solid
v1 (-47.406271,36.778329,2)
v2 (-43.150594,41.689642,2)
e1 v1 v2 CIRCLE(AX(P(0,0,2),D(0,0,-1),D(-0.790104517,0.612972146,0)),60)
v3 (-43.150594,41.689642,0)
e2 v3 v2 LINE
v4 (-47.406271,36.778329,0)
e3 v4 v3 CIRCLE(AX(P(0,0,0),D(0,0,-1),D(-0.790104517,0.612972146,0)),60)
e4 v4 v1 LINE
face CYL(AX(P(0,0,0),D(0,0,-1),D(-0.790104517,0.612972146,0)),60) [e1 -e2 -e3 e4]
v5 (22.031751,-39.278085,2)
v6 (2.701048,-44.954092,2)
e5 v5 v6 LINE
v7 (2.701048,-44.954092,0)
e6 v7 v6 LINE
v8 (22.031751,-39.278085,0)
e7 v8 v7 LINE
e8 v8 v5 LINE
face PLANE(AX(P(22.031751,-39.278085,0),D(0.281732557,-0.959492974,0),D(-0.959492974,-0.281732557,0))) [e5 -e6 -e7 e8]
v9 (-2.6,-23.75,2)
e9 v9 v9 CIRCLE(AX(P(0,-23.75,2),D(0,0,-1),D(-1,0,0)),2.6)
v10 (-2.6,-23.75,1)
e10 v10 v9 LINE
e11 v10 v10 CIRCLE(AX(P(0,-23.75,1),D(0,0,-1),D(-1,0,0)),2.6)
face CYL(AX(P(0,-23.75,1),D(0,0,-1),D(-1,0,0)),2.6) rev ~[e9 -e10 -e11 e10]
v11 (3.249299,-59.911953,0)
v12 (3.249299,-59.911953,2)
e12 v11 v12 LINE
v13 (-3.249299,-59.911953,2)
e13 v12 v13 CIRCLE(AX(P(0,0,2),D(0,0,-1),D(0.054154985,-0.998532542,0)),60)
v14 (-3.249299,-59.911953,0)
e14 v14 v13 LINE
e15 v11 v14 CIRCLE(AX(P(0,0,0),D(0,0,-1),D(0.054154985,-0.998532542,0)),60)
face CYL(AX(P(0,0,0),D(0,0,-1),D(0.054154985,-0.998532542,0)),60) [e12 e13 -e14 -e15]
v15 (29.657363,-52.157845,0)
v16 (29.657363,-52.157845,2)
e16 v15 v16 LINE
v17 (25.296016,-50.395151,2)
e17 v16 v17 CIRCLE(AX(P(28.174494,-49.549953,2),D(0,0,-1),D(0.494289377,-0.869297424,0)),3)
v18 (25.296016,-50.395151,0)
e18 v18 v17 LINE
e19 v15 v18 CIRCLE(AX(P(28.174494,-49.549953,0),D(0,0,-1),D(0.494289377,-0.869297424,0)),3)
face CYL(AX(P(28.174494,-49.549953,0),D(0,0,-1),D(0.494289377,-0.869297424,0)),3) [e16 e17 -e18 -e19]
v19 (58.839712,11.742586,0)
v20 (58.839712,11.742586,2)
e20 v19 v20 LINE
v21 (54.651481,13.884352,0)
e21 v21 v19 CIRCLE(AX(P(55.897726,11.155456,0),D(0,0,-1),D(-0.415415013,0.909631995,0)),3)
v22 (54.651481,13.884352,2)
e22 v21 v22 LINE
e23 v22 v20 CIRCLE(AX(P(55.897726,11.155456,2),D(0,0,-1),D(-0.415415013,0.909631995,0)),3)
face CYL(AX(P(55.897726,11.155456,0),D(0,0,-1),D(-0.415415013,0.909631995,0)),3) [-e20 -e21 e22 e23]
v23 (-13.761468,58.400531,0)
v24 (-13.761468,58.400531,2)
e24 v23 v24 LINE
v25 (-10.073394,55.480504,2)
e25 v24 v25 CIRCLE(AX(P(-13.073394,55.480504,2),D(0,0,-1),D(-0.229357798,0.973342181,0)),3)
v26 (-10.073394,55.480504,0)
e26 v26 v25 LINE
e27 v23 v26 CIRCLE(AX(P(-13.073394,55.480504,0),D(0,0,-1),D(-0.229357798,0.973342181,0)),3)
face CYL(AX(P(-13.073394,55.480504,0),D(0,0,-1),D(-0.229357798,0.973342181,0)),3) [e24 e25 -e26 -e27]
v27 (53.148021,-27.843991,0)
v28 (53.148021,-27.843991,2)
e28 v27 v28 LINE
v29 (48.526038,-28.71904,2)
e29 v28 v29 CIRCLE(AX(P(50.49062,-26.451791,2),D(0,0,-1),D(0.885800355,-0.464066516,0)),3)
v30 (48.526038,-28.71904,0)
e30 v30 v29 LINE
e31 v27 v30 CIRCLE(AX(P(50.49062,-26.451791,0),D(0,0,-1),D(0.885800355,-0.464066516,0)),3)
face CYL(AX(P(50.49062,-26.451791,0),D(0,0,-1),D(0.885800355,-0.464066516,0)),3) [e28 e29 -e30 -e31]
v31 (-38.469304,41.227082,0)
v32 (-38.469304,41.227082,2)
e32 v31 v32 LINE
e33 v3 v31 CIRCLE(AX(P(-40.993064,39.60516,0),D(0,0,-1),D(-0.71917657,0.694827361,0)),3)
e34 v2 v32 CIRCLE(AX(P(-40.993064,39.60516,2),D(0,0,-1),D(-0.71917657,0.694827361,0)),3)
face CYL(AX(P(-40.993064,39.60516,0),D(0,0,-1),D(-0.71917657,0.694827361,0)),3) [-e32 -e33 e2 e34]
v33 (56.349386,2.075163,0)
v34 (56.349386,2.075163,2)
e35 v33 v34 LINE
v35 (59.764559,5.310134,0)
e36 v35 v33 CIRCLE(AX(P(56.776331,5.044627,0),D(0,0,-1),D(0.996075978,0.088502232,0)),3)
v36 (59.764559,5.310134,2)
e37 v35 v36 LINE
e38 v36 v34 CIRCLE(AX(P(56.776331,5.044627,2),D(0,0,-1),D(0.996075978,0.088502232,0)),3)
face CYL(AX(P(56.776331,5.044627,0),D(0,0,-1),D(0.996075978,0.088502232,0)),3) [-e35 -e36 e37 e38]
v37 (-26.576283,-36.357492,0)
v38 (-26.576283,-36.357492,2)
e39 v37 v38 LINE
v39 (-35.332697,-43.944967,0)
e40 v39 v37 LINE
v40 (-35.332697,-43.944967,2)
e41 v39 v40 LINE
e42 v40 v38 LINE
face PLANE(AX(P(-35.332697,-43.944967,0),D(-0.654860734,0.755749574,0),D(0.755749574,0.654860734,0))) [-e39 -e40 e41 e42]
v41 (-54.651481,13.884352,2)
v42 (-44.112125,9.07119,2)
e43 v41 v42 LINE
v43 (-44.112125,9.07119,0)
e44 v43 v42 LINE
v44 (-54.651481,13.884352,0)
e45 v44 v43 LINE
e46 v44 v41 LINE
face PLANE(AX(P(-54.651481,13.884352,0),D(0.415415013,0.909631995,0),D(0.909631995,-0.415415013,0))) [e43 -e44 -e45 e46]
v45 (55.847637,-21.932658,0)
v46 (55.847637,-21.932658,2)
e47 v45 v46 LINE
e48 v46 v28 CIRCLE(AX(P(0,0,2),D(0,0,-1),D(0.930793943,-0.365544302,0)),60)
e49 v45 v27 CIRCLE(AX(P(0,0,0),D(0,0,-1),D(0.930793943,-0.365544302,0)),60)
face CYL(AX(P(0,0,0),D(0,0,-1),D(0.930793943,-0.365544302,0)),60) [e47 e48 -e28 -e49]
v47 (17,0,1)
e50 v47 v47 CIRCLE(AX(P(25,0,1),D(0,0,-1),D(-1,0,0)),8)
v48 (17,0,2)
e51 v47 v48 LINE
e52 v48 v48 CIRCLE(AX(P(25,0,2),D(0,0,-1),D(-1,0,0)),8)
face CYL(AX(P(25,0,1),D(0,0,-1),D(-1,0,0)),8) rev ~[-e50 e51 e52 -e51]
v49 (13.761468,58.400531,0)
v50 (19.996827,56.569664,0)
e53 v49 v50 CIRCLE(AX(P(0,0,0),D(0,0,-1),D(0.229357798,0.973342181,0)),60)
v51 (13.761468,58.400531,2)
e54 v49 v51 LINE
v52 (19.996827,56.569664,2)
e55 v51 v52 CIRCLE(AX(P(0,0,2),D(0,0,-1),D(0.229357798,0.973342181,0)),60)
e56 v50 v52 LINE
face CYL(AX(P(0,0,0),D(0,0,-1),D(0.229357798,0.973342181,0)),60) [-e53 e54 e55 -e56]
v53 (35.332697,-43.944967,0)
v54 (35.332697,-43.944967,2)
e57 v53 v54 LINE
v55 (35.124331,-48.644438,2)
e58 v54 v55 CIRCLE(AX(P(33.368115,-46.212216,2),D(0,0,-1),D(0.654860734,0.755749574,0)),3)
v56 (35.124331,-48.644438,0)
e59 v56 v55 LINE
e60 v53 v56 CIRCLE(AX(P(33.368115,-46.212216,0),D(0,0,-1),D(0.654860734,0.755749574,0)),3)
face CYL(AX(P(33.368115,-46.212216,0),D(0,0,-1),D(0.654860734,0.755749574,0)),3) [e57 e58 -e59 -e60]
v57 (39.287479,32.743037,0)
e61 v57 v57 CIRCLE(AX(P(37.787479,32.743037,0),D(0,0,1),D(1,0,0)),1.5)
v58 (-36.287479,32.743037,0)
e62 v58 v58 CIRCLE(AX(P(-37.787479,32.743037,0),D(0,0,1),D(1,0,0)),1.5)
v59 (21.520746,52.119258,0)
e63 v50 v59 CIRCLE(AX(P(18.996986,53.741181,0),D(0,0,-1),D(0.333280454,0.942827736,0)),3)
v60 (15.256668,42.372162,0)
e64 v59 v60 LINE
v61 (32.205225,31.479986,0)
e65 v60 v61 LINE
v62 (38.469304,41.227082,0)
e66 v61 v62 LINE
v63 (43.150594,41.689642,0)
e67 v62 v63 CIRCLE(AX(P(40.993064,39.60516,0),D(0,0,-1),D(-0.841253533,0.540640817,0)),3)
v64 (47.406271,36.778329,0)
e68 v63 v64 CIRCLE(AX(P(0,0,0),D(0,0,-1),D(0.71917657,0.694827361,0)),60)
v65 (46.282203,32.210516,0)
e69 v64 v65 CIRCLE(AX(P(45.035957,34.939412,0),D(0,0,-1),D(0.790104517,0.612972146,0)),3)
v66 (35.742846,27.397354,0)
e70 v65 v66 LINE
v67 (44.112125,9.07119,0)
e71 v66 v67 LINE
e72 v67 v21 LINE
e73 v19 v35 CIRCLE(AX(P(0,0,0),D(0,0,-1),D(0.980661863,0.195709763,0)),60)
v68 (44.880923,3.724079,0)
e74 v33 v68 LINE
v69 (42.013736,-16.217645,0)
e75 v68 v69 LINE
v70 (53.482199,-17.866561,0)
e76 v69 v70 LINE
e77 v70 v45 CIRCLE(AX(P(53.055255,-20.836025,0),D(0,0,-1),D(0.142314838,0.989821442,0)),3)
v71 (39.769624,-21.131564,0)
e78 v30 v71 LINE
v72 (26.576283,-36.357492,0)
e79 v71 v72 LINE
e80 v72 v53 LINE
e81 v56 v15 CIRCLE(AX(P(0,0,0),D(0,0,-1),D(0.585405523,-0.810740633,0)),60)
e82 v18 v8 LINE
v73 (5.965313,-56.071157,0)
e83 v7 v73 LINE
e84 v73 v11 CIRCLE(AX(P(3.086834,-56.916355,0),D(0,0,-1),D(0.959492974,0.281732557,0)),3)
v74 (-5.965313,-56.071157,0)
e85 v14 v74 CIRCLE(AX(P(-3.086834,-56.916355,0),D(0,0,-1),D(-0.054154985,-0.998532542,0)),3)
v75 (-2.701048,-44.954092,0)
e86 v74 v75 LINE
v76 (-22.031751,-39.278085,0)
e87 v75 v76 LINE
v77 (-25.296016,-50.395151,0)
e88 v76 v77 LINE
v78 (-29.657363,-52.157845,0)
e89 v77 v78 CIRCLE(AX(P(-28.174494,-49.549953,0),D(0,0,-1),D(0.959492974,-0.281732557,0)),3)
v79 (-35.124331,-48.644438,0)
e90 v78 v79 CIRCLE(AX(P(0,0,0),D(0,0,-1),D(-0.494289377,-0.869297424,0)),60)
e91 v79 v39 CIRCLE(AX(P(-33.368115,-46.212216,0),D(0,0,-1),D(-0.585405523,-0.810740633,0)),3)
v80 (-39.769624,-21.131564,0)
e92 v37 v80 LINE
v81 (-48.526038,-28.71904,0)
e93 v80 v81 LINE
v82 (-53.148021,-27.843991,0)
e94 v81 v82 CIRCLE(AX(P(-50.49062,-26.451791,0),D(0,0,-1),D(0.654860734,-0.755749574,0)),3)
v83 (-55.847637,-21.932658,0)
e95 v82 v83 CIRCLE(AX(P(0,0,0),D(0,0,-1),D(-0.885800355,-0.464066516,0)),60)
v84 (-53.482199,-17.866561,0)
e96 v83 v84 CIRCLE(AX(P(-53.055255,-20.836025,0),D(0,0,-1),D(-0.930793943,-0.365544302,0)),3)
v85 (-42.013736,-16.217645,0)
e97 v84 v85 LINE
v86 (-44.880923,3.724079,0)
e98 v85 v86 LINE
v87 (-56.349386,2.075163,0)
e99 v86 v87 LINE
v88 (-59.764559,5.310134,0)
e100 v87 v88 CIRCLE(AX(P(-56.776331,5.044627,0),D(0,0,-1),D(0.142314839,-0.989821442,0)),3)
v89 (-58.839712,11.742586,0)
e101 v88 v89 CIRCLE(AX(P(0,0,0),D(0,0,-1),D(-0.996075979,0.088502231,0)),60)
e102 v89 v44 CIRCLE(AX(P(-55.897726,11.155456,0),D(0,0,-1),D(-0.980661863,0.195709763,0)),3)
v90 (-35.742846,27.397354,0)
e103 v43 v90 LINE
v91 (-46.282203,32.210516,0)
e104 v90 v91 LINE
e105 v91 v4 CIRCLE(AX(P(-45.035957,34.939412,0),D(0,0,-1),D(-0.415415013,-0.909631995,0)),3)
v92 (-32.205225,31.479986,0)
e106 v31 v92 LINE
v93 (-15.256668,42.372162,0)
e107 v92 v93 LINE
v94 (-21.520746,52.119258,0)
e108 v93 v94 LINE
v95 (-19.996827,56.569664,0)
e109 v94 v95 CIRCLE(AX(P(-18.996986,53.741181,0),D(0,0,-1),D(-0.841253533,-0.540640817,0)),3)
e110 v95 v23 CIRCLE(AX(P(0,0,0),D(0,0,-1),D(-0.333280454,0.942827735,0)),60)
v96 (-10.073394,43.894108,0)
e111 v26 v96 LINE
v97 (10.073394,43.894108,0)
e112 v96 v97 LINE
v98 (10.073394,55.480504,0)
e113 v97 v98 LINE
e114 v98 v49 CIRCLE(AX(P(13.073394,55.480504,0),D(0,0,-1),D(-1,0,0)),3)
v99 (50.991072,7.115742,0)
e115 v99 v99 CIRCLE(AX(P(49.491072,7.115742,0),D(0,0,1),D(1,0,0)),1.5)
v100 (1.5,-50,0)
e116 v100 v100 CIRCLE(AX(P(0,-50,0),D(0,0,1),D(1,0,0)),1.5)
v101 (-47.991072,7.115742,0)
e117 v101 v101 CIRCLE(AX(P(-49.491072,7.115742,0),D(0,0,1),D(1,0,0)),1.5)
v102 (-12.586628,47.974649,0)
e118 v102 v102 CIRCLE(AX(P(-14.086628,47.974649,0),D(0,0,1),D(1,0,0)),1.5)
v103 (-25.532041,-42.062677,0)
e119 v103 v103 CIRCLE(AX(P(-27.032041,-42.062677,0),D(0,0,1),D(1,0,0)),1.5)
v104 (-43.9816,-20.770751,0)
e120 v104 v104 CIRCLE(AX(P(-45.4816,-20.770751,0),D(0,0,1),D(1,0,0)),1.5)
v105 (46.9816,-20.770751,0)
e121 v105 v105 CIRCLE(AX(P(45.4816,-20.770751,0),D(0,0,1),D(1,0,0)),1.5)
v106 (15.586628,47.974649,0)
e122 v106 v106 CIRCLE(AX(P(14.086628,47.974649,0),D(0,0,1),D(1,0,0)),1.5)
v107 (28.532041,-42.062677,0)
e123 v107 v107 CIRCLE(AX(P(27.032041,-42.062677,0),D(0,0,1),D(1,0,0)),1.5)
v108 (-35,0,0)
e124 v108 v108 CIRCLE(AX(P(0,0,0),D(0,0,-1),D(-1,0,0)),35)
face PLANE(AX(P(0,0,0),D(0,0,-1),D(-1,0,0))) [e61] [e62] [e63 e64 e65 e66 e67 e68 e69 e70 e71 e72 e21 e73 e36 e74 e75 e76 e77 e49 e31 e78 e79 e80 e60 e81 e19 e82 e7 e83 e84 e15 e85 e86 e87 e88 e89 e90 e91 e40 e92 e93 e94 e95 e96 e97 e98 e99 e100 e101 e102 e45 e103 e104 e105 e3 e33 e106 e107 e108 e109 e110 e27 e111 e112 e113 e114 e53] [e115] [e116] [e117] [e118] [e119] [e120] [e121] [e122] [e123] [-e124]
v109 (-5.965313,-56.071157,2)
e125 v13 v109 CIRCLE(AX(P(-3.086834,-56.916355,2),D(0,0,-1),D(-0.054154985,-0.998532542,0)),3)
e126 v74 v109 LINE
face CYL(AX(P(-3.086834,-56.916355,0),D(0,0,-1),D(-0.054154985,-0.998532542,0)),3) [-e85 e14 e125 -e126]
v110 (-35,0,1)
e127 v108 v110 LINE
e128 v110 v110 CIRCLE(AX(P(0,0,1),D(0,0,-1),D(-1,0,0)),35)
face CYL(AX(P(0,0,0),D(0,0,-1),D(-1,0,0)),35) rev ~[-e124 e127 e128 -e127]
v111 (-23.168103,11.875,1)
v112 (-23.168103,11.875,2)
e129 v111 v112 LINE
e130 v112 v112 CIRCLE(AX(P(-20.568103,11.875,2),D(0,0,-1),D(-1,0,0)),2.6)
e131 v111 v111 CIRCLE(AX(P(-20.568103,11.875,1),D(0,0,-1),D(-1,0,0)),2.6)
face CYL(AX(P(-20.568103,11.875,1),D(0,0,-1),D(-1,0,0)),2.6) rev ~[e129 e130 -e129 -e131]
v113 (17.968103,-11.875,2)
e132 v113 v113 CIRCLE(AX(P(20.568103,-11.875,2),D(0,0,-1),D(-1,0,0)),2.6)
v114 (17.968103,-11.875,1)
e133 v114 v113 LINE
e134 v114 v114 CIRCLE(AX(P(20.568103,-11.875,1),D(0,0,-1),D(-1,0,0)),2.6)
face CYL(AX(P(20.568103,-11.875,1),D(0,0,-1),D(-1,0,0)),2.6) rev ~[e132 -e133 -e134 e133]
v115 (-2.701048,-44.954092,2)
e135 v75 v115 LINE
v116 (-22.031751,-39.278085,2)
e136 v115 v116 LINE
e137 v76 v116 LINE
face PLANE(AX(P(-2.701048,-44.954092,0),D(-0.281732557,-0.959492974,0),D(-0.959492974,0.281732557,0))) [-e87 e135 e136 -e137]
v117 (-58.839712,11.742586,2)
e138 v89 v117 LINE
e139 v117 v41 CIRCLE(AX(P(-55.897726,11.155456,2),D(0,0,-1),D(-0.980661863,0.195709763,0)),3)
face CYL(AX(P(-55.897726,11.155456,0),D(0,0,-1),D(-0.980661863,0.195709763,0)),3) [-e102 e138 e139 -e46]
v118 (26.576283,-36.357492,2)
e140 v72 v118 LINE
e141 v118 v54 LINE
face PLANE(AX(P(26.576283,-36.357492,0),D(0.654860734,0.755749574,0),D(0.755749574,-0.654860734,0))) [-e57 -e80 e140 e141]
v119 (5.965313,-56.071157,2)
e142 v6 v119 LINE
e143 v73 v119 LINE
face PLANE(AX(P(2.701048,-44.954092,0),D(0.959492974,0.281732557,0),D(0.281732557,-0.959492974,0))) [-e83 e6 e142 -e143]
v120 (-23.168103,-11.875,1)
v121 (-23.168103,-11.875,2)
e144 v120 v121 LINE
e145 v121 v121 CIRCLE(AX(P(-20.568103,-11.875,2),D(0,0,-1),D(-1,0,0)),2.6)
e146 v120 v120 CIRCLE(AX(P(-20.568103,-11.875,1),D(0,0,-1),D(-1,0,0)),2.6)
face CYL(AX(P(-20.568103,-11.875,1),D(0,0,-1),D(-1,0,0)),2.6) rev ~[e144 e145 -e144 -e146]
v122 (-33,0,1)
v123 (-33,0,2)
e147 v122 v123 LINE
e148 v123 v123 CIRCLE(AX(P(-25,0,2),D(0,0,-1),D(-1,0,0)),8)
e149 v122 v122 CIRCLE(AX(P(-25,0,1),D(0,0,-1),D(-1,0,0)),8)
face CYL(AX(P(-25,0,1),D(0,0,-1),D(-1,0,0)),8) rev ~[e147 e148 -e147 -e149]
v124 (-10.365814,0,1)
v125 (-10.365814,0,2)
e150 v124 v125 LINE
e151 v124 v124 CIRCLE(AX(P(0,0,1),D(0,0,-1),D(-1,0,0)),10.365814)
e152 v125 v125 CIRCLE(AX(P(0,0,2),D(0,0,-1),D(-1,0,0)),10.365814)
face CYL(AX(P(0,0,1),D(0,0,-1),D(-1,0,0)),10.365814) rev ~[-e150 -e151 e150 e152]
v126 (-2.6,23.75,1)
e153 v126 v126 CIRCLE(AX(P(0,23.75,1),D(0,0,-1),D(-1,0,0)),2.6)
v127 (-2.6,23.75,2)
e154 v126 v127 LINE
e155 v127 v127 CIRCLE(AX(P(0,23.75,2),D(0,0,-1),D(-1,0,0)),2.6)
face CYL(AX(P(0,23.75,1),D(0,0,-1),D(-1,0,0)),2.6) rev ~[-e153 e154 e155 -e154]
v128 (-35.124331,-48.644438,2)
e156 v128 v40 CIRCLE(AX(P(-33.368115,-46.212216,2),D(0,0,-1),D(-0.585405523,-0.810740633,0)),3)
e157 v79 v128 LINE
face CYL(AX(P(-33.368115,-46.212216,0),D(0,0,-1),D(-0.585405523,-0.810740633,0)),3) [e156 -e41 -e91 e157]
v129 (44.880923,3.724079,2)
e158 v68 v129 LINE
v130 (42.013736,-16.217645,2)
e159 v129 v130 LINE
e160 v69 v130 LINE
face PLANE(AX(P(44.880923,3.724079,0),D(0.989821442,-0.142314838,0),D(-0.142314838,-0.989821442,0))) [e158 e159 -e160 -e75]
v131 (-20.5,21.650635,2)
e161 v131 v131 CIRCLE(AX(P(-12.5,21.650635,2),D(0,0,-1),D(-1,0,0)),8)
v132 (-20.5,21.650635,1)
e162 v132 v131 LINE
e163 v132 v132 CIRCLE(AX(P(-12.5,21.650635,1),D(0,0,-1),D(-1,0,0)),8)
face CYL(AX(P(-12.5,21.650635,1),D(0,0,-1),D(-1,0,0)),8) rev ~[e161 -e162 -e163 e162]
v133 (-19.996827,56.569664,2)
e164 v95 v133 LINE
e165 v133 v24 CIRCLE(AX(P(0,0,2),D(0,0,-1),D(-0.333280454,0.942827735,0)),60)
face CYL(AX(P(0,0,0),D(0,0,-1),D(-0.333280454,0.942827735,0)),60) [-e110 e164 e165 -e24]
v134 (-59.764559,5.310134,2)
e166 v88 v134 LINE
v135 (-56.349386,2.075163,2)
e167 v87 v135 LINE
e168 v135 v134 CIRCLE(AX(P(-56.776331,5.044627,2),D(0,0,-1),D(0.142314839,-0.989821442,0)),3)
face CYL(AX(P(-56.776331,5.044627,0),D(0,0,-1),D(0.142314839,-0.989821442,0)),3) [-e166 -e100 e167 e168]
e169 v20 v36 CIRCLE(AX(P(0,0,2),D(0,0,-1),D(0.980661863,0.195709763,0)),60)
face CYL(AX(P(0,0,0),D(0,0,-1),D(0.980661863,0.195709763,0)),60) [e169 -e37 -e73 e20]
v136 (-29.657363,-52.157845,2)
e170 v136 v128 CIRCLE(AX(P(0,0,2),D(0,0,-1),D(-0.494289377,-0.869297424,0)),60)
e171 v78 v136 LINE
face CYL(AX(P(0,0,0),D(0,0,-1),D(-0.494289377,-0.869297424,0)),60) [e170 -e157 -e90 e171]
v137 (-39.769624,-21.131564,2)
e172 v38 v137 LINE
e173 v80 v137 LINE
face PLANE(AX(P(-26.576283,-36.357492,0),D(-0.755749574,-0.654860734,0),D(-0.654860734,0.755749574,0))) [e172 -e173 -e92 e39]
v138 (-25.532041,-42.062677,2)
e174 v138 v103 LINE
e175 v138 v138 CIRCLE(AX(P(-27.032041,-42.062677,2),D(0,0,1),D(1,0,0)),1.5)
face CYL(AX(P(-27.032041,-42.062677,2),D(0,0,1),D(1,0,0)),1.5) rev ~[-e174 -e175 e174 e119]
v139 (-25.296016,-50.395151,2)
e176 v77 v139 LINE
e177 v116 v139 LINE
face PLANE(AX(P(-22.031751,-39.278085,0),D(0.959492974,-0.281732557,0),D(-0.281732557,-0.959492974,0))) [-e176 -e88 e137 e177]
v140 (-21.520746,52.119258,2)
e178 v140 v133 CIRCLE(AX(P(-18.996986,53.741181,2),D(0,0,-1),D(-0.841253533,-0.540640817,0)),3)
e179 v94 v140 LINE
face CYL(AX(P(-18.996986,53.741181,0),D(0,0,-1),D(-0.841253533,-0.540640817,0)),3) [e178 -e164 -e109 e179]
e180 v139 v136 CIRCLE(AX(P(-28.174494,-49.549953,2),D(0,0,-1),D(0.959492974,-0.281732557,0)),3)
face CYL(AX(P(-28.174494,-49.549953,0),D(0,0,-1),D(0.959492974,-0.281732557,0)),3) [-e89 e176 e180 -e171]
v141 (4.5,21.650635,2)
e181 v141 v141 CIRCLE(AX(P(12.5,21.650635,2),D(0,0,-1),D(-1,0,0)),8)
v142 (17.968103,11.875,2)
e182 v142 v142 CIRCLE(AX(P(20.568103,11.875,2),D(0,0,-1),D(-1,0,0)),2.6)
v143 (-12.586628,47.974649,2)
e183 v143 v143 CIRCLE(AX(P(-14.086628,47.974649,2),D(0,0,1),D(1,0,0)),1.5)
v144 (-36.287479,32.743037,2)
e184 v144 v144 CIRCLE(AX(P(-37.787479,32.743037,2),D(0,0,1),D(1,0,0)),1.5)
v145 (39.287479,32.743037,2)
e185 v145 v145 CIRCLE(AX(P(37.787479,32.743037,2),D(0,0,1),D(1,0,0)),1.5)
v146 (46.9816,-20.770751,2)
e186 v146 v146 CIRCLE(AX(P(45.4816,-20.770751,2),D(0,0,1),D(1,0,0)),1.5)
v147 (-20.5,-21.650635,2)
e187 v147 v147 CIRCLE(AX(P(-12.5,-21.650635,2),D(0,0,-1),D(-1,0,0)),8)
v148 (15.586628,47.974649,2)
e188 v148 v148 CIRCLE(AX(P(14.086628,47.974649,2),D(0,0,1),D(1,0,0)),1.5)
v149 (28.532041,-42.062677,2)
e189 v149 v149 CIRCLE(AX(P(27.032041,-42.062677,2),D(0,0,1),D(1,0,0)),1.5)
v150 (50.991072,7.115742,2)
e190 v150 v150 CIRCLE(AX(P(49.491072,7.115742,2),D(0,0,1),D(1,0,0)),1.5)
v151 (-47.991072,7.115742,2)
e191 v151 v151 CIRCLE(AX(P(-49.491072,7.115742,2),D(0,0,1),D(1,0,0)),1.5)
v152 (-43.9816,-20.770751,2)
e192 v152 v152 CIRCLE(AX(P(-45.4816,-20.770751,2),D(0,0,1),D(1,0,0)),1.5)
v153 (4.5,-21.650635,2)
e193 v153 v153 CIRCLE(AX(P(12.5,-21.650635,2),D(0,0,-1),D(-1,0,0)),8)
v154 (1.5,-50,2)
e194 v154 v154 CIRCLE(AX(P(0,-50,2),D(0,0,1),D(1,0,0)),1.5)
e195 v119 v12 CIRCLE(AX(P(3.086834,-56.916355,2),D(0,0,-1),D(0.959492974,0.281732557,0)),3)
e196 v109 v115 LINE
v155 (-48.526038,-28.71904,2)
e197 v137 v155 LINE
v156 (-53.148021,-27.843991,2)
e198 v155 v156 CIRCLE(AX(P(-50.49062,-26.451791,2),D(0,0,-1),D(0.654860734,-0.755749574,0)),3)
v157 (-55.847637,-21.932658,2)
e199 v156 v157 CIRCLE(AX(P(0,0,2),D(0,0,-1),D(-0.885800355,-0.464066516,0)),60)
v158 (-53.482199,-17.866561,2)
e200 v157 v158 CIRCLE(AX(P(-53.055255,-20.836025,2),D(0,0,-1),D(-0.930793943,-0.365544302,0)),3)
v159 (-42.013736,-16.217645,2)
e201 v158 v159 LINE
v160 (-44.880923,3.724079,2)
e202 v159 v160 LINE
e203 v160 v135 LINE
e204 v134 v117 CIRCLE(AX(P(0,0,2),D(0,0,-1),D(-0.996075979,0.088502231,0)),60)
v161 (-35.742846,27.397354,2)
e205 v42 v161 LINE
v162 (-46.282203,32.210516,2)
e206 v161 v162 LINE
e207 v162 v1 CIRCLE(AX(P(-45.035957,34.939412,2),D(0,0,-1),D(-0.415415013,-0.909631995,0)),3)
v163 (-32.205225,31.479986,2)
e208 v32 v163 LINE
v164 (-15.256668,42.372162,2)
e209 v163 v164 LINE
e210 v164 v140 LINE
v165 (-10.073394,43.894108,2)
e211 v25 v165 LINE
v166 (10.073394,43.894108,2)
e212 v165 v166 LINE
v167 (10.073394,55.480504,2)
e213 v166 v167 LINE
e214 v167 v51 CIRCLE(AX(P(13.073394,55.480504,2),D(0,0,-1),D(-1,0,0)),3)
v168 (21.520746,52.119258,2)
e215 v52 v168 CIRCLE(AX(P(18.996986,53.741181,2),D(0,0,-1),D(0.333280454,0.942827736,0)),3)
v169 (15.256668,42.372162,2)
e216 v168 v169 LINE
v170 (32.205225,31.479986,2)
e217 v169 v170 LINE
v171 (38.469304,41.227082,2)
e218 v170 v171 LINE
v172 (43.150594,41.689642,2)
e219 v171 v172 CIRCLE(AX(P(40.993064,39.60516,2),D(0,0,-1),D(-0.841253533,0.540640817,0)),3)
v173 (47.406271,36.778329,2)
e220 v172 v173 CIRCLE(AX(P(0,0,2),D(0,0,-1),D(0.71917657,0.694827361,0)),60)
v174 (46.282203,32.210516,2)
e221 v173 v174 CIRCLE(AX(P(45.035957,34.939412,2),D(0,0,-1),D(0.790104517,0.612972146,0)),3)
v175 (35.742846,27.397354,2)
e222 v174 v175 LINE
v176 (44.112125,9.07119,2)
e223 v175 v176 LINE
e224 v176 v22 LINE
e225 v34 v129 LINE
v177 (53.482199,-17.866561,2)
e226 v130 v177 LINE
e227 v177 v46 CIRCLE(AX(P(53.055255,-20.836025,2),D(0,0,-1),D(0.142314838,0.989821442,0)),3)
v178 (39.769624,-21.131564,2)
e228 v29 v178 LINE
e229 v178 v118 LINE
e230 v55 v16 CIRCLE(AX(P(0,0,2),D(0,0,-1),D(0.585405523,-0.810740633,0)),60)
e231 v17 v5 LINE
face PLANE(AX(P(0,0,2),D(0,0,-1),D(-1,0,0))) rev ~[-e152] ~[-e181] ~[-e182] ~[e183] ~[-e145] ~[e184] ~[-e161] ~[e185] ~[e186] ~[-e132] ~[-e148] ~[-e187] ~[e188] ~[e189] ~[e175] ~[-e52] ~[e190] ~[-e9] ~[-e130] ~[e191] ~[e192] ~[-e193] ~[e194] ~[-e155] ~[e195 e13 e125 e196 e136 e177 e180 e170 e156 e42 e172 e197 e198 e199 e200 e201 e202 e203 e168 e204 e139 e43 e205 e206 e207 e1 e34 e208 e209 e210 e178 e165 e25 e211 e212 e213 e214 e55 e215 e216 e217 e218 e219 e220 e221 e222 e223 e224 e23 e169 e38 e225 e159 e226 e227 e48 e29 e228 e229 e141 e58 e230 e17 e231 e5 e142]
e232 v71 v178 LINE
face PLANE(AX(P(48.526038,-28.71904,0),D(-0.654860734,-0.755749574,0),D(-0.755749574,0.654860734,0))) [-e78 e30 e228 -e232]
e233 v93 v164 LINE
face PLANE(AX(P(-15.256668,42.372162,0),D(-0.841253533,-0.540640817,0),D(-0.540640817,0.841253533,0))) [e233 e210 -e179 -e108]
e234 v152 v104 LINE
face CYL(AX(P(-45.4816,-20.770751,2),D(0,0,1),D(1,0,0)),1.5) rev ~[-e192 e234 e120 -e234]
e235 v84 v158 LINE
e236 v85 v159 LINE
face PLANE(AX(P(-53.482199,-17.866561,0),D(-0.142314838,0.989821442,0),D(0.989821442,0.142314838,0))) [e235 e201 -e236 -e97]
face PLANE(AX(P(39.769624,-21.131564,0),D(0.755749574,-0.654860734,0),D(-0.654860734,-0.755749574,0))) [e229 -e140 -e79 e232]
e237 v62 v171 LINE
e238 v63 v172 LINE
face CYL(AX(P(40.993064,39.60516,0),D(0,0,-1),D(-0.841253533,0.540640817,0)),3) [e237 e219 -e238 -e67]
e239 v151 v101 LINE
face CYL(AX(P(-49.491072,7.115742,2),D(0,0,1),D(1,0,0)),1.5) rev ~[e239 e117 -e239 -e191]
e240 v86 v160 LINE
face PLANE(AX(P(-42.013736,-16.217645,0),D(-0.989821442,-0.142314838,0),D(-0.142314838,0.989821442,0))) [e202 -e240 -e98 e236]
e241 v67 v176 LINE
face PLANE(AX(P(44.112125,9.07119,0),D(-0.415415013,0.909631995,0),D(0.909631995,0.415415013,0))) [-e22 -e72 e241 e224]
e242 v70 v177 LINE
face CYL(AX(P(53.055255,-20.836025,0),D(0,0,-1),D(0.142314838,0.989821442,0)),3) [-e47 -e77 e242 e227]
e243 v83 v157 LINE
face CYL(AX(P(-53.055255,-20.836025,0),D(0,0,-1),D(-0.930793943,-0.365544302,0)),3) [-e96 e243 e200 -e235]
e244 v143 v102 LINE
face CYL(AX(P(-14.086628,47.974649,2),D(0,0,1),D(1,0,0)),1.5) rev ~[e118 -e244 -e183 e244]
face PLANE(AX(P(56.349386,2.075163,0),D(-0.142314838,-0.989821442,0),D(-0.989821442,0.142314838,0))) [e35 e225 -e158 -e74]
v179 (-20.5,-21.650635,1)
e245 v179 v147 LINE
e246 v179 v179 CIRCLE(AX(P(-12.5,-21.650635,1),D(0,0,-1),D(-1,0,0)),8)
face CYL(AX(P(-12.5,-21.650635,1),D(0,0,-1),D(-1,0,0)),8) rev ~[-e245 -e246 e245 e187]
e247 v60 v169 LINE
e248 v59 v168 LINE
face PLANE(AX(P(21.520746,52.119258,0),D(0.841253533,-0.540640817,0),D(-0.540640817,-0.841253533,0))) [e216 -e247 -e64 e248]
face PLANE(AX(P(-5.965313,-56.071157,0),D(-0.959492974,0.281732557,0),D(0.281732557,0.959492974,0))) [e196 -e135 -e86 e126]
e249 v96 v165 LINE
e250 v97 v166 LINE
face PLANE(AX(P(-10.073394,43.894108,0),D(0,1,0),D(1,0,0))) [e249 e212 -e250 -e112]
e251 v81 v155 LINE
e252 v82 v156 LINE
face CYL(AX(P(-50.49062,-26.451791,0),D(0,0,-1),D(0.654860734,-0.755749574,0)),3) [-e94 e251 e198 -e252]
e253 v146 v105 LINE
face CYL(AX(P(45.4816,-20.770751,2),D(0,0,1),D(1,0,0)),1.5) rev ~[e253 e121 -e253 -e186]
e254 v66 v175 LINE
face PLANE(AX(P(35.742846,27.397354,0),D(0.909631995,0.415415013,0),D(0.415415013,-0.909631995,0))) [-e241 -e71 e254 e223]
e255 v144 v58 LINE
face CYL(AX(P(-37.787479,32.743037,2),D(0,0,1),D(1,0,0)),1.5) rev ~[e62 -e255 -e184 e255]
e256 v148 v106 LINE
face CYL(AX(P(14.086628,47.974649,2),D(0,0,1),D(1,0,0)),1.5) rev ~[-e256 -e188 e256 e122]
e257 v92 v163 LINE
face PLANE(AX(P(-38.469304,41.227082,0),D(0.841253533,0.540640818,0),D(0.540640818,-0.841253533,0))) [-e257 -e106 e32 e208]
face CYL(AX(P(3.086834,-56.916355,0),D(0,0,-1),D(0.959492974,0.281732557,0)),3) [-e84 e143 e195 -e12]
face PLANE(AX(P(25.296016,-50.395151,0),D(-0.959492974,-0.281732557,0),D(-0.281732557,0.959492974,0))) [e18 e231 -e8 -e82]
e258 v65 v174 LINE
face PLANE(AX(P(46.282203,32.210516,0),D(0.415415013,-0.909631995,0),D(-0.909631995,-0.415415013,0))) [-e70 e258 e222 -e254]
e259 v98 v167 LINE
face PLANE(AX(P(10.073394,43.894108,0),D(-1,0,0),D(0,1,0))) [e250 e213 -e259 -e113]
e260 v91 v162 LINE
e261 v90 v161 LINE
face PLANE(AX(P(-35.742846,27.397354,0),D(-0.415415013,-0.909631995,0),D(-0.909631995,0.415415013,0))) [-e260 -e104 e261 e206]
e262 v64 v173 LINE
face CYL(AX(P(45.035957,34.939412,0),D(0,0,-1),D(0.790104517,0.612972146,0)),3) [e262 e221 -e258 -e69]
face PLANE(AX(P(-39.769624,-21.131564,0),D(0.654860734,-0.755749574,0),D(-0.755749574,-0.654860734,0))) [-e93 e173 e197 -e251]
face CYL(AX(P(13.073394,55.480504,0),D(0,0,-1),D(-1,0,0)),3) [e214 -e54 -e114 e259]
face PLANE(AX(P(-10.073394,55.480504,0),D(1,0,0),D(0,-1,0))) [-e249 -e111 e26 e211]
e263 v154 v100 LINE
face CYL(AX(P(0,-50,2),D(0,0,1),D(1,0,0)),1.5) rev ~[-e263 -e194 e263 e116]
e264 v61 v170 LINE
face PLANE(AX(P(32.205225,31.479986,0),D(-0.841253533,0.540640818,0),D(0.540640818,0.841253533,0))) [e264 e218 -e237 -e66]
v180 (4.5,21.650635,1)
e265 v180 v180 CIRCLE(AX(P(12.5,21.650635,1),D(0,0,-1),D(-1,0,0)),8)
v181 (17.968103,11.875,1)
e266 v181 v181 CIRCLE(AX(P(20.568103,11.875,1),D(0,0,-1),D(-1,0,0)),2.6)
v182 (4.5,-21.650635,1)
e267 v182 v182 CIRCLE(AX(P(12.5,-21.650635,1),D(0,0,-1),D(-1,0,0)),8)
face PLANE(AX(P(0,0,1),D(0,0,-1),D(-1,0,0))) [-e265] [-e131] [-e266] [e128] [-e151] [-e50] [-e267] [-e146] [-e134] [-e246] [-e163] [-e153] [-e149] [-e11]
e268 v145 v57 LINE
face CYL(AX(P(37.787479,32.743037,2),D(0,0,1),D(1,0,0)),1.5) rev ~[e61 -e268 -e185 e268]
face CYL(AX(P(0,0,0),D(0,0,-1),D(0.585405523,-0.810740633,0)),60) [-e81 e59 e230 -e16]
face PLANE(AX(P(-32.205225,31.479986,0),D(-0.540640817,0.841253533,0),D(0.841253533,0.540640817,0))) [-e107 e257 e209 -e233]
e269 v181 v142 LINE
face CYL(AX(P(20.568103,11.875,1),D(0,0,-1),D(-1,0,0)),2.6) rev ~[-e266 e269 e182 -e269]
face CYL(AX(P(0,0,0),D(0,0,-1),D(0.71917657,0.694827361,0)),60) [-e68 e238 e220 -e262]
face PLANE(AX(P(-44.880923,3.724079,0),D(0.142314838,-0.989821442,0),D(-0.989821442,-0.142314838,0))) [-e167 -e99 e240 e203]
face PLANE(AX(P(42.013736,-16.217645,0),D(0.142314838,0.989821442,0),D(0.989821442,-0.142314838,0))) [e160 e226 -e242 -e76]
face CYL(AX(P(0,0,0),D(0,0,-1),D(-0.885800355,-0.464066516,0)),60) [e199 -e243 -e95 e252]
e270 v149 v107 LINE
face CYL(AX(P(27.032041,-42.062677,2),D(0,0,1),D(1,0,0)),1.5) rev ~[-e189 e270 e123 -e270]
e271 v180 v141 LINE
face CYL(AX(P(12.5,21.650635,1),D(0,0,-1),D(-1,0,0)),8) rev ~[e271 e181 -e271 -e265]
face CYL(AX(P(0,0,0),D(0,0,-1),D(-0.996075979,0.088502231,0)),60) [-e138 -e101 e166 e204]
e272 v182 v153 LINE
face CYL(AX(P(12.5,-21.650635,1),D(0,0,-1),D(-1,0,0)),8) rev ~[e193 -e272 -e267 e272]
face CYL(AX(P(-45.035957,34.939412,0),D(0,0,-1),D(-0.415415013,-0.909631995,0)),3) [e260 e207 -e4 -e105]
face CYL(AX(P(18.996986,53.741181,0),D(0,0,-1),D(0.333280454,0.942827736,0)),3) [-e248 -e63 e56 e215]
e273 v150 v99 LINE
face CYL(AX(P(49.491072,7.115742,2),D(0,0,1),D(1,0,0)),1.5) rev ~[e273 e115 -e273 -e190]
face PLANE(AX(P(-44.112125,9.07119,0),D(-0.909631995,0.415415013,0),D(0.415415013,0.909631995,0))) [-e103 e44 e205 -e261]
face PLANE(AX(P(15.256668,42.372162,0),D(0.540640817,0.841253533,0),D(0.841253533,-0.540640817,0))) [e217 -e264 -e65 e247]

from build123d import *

# Parameters (mm, degrees)
BOSS_EXTRUDE1_DEPTH = 2
SKETCH4_R           = 1.5
CUT_EXTRUDE3_DEPTH  = 2
SKETCH6_R           = 35
CUT_EXTRUDE4_DEPTH  = 1
SKETCH7_R           = 10.365813853
SKETCH7_R_2         = 2.6
SKETCH7_R_3         = 8
CUT_EXTRUDE5_DEPTH  = 1


with BuildPart() as part:
    # Sketch1 → Boss-Extrude1 (new body)
    with BuildSketch(Plane.XY):
        with BuildLine():
            Line((21.520746486, 52.119258472), (15.256667967, 42.372162038))
            Line((15.256667967, 42.372162038), (32.20522538, 31.479985569))
            Line((32.20522538, 31.479985569), (38.4693039, 41.227082003))
            ThreePointArc((38.4693039, 41.227082003), (40.698070229, 42.590620718), (43.150594208, 41.689641633))
            ThreePointArc((43.150594208, 41.689641633), (45.344974461, 39.291644037), (47.406271028, 36.778328771))
            ThreePointArc((47.406271028, 36.778328771), (47.949048893, 34.222545257), (46.282202516, 32.210516346))
            Line((46.282202516, 32.210516346), (35.742846148, 27.397353567))
            Line((35.742846148, 27.397353567), (44.112124759, 9.071189697))
            Line((44.112124759, 9.071189697), (54.651481127, 13.884352476))
            ThreePointArc((54.651481127, 13.884352476), (57.263623361, 13.826472187), (58.839711753, 11.742585779))
            ThreePointArc((58.839711753, 11.742585779), (59.389286513, 8.538890296), (59.764558712, 5.310133889))
            ThreePointArc((59.764558712, 5.310133889), (58.83941162, 2.86662411), (56.349386262, 2.075162869))
            Line((56.349386262, 2.075162869), (44.880923224, 3.724078919))
            Line((44.880923224, 3.724078919), (42.013736207, -16.217644809))
            Line((42.013736207, -16.217644809), (53.482199245, -17.86656086))
            ThreePointArc((53.482199245, -17.86656086), (55.648380681, -19.32748357), (55.847636558, -21.93265809))
            ThreePointArc((55.847636558, -21.93265809), (54.577919721, -24.92490078), (53.148021281, -27.843990983))
            ThreePointArc((53.148021281, -27.843990983), (51.048676897, -29.399429937), (48.526038015, -28.719040157))
            Line((48.526038015, -28.719040157), (39.76962429, -21.131564473))
            Line((39.76962429, -21.131564473), (26.576283265, -36.357491677))
            Line((26.576283265, -36.357491677), (35.33269699, -43.944967362))
            ThreePointArc((35.33269699, -43.944967362), (36.365170327, -46.345099856), (35.124331356, -48.644437984))
            ThreePointArc((35.124331356, -48.644437984), (32.438449047, -50.47521197), (29.657362619, -52.157845455))
            ThreePointArc((29.657362619, -52.157845455), (27.050347952, -52.331372705), (25.296015568, -50.395150852))
            Line((25.296015568, -50.395150852), (22.031750643, -39.278085453))
            Line((22.031750643, -39.278085453), (2.701048165, -44.954091828))
            Line((2.701048165, -44.954091828), (5.96531309, -56.071157227))
            ThreePointArc((5.96531309, -56.071157227), (5.536275339, -58.648474396), (3.249299125, -59.911952524))
            ThreePointArc((3.249299125, -59.911952524), (0, -60), (-3.249299125, -59.911952524))
            ThreePointArc((-3.249299125, -59.911952524), (-5.536275339, -58.648474396), (-5.96531309, -56.071157227))
            Line((-5.96531309, -56.071157227), (-2.701048165, -44.954091828))
            Line((-2.701048165, -44.954091828), (-22.031750643, -39.278085453))
            Line((-22.031750643, -39.278085453), (-25.296015568, -50.395150852))
            ThreePointArc((-25.296015568, -50.395150852), (-27.050347952, -52.331372705), (-29.657362619, -52.157845455))
            ThreePointArc((-29.657362619, -52.157845455), (-32.438449047, -50.47521197), (-35.124331356, -48.644437984))
            ThreePointArc((-35.124331356, -48.644437984), (-36.365170327, -46.345099856), (-35.33269699, -43.944967362))
            Line((-35.33269699, -43.944967362), (-26.576283265, -36.357491677))
            Line((-26.576283265, -36.357491677), (-39.76962429, -21.131564473))
            Line((-39.76962429, -21.131564473), (-48.526038015, -28.719040157))
            ThreePointArc((-48.526038015, -28.719040157), (-51.048676897, -29.399429937), (-53.148021281, -27.843990983))
            ThreePointArc((-53.148021281, -27.843990983), (-54.577919721, -24.92490078), (-55.847636558, -21.93265809))
            ThreePointArc((-55.847636558, -21.93265809), (-55.648380681, -19.32748357), (-53.482199245, -17.86656086))
            Line((-53.482199245, -17.86656086), (-42.013736207, -16.217644809))
            Line((-42.013736207, -16.217644809), (-44.880923224, 3.724078919))
            Line((-44.880923224, 3.724078919), (-56.349386262, 2.075162869))
            ThreePointArc((-56.349386262, 2.075162869), (-58.83941162, 2.86662411), (-59.764558712, 5.310133889))
            ThreePointArc((-59.764558712, 5.310133889), (-59.389286513, 8.538890296), (-58.839711753, 11.742585779))
            ThreePointArc((-58.839711753, 11.742585779), (-57.263623361, 13.826472187), (-54.651481127, 13.884352476))
            Line((-54.651481127, 13.884352476), (-44.112124759, 9.071189697))
            Line((-44.112124759, 9.071189697), (-35.742846148, 27.397353567))
            Line((-35.742846148, 27.397353567), (-46.282202516, 32.210516346))
            ThreePointArc((-46.282202516, 32.210516346), (-47.949048893, 34.222545257), (-47.406271028, 36.778328771))
            ThreePointArc((-47.406271028, 36.778328771), (-45.344974461, 39.291644037), (-43.150594208, 41.689641633))
            ThreePointArc((-43.150594208, 41.689641633), (-40.698070229, 42.590620718), (-38.4693039, 41.227082003))
            Line((-38.4693039, 41.227082003), (-32.20522538, 31.479985569))
            Line((-32.20522538, 31.479985569), (-15.256667967, 42.372162038))
            Line((-15.256667967, 42.372162038), (-21.520746486, 52.119258472))
            ThreePointArc((-21.520746486, 52.119258472), (-21.835201934, 54.713050089), (-19.99682725, 56.569664131))
            ThreePointArc((-19.99682725, 56.569664131), (-16.90395341, 57.569578417), (-13.76146789, 58.400530832))
            ThreePointArc((-13.76146789, 58.400530832), (-11.211167359, 57.832548102), (-10.073394495, 55.480504291))
            Line((-10.073394495, 55.480504291), (-10.073394495, 43.894108449))
            Line((-10.073394495, 43.894108449), (10.073394495, 43.894108449))
            Line((10.073394495, 43.894108449), (10.073394495, 55.480504291))
            ThreePointArc((10.073394495, 55.480504291), (11.211167359, 57.832548102), (13.76146789, 58.400530832))
            ThreePointArc((13.76146789, 58.400530832), (16.90395341, 57.569578417), (19.99682725, 56.569664131))
            ThreePointArc((19.99682725, 56.569664131), (21.835201934, 54.713050089), (21.520746486, 52.119258472))
        make_face()
    extrude(amount=BOSS_EXTRUDE1_DEPTH)

    # Sketch4 → Cut-Extrude3 (cut)
    with BuildSketch(Plane.XY.offset(2)):
        with Locations((-14.086627842, 47.974648681)):
            Circle(SKETCH4_R)
        with Locations((14.086627842, 47.974648681)):
            Circle(SKETCH4_R)
        with Locations((37.787478718, 32.743036697)):
            Circle(SKETCH4_R)
        with Locations((49.491072094, 7.115741914)):
            Circle(SKETCH4_R)
        with Locations((45.481599768, -20.77075065)):
            Circle(SKETCH4_R)
        with Locations((27.032040873, -42.062676642)):
            Circle(SKETCH4_R)
        with Locations((0, -50)):
            Circle(SKETCH4_R)
        with Locations((-27.032040873, -42.062676642)):
            Circle(SKETCH4_R)
        with Locations((-45.481599768, -20.77075065)):
            Circle(SKETCH4_R)
        with Locations((-49.491072094, 7.115741914)):
            Circle(SKETCH4_R)
        with Locations((-37.787478718, 32.743036697)):
            Circle(SKETCH4_R)
    extrude(amount=-CUT_EXTRUDE3_DEPTH, mode=Mode.SUBTRACT)

    # Sketch6 → Cut-Extrude4 (cut)
    with BuildSketch(Plane(origin=(0, 0, 0), x_dir=(-1, 0, 0), z_dir=(0, 0, -1))):
        Circle(SKETCH6_R)
    extrude(amount=-CUT_EXTRUDE4_DEPTH, mode=Mode.SUBTRACT)

    # Sketch7 → Cut-Extrude5 (cut)
    with BuildSketch(Plane(origin=(0, 0, 1), x_dir=(-1, 0, 0), z_dir=(0, 0, -1))):
        Circle(SKETCH7_R)
        with Locations((0, 23.75)):
            Circle(SKETCH7_R_2)
        with Locations((-12.5, 21.650635095)):
            Circle(SKETCH7_R_3)
        with Locations((20.56810334, 11.875)):
            Circle(SKETCH7_R_2)
        with Locations((12.5, 21.650635095)):
            Circle(SKETCH7_R_3)
        with Locations((20.56810334, -11.875)):
            Circle(SKETCH7_R_2)
        with Locations((25, 0)):
            Circle(SKETCH7_R_3)
        with Locations((0, -23.75)):
            Circle(SKETCH7_R_2)
        with Locations((12.5, -21.650635095)):
            Circle(SKETCH7_R_3)
        with Locations((-20.56810334, -11.875)):
            Circle(SKETCH7_R_2)
        with Locations((-12.5, -21.650635095)):
            Circle(SKETCH7_R_3)
        with Locations((-20.56810334, 11.875)):
            Circle(SKETCH7_R_2)
        with Locations((-25, 0)):
            Circle(SKETCH7_R_3)
    extrude(amount=-CUT_EXTRUDE5_DEPTH, mode=Mode.SUBTRACT)


solid = part.part
